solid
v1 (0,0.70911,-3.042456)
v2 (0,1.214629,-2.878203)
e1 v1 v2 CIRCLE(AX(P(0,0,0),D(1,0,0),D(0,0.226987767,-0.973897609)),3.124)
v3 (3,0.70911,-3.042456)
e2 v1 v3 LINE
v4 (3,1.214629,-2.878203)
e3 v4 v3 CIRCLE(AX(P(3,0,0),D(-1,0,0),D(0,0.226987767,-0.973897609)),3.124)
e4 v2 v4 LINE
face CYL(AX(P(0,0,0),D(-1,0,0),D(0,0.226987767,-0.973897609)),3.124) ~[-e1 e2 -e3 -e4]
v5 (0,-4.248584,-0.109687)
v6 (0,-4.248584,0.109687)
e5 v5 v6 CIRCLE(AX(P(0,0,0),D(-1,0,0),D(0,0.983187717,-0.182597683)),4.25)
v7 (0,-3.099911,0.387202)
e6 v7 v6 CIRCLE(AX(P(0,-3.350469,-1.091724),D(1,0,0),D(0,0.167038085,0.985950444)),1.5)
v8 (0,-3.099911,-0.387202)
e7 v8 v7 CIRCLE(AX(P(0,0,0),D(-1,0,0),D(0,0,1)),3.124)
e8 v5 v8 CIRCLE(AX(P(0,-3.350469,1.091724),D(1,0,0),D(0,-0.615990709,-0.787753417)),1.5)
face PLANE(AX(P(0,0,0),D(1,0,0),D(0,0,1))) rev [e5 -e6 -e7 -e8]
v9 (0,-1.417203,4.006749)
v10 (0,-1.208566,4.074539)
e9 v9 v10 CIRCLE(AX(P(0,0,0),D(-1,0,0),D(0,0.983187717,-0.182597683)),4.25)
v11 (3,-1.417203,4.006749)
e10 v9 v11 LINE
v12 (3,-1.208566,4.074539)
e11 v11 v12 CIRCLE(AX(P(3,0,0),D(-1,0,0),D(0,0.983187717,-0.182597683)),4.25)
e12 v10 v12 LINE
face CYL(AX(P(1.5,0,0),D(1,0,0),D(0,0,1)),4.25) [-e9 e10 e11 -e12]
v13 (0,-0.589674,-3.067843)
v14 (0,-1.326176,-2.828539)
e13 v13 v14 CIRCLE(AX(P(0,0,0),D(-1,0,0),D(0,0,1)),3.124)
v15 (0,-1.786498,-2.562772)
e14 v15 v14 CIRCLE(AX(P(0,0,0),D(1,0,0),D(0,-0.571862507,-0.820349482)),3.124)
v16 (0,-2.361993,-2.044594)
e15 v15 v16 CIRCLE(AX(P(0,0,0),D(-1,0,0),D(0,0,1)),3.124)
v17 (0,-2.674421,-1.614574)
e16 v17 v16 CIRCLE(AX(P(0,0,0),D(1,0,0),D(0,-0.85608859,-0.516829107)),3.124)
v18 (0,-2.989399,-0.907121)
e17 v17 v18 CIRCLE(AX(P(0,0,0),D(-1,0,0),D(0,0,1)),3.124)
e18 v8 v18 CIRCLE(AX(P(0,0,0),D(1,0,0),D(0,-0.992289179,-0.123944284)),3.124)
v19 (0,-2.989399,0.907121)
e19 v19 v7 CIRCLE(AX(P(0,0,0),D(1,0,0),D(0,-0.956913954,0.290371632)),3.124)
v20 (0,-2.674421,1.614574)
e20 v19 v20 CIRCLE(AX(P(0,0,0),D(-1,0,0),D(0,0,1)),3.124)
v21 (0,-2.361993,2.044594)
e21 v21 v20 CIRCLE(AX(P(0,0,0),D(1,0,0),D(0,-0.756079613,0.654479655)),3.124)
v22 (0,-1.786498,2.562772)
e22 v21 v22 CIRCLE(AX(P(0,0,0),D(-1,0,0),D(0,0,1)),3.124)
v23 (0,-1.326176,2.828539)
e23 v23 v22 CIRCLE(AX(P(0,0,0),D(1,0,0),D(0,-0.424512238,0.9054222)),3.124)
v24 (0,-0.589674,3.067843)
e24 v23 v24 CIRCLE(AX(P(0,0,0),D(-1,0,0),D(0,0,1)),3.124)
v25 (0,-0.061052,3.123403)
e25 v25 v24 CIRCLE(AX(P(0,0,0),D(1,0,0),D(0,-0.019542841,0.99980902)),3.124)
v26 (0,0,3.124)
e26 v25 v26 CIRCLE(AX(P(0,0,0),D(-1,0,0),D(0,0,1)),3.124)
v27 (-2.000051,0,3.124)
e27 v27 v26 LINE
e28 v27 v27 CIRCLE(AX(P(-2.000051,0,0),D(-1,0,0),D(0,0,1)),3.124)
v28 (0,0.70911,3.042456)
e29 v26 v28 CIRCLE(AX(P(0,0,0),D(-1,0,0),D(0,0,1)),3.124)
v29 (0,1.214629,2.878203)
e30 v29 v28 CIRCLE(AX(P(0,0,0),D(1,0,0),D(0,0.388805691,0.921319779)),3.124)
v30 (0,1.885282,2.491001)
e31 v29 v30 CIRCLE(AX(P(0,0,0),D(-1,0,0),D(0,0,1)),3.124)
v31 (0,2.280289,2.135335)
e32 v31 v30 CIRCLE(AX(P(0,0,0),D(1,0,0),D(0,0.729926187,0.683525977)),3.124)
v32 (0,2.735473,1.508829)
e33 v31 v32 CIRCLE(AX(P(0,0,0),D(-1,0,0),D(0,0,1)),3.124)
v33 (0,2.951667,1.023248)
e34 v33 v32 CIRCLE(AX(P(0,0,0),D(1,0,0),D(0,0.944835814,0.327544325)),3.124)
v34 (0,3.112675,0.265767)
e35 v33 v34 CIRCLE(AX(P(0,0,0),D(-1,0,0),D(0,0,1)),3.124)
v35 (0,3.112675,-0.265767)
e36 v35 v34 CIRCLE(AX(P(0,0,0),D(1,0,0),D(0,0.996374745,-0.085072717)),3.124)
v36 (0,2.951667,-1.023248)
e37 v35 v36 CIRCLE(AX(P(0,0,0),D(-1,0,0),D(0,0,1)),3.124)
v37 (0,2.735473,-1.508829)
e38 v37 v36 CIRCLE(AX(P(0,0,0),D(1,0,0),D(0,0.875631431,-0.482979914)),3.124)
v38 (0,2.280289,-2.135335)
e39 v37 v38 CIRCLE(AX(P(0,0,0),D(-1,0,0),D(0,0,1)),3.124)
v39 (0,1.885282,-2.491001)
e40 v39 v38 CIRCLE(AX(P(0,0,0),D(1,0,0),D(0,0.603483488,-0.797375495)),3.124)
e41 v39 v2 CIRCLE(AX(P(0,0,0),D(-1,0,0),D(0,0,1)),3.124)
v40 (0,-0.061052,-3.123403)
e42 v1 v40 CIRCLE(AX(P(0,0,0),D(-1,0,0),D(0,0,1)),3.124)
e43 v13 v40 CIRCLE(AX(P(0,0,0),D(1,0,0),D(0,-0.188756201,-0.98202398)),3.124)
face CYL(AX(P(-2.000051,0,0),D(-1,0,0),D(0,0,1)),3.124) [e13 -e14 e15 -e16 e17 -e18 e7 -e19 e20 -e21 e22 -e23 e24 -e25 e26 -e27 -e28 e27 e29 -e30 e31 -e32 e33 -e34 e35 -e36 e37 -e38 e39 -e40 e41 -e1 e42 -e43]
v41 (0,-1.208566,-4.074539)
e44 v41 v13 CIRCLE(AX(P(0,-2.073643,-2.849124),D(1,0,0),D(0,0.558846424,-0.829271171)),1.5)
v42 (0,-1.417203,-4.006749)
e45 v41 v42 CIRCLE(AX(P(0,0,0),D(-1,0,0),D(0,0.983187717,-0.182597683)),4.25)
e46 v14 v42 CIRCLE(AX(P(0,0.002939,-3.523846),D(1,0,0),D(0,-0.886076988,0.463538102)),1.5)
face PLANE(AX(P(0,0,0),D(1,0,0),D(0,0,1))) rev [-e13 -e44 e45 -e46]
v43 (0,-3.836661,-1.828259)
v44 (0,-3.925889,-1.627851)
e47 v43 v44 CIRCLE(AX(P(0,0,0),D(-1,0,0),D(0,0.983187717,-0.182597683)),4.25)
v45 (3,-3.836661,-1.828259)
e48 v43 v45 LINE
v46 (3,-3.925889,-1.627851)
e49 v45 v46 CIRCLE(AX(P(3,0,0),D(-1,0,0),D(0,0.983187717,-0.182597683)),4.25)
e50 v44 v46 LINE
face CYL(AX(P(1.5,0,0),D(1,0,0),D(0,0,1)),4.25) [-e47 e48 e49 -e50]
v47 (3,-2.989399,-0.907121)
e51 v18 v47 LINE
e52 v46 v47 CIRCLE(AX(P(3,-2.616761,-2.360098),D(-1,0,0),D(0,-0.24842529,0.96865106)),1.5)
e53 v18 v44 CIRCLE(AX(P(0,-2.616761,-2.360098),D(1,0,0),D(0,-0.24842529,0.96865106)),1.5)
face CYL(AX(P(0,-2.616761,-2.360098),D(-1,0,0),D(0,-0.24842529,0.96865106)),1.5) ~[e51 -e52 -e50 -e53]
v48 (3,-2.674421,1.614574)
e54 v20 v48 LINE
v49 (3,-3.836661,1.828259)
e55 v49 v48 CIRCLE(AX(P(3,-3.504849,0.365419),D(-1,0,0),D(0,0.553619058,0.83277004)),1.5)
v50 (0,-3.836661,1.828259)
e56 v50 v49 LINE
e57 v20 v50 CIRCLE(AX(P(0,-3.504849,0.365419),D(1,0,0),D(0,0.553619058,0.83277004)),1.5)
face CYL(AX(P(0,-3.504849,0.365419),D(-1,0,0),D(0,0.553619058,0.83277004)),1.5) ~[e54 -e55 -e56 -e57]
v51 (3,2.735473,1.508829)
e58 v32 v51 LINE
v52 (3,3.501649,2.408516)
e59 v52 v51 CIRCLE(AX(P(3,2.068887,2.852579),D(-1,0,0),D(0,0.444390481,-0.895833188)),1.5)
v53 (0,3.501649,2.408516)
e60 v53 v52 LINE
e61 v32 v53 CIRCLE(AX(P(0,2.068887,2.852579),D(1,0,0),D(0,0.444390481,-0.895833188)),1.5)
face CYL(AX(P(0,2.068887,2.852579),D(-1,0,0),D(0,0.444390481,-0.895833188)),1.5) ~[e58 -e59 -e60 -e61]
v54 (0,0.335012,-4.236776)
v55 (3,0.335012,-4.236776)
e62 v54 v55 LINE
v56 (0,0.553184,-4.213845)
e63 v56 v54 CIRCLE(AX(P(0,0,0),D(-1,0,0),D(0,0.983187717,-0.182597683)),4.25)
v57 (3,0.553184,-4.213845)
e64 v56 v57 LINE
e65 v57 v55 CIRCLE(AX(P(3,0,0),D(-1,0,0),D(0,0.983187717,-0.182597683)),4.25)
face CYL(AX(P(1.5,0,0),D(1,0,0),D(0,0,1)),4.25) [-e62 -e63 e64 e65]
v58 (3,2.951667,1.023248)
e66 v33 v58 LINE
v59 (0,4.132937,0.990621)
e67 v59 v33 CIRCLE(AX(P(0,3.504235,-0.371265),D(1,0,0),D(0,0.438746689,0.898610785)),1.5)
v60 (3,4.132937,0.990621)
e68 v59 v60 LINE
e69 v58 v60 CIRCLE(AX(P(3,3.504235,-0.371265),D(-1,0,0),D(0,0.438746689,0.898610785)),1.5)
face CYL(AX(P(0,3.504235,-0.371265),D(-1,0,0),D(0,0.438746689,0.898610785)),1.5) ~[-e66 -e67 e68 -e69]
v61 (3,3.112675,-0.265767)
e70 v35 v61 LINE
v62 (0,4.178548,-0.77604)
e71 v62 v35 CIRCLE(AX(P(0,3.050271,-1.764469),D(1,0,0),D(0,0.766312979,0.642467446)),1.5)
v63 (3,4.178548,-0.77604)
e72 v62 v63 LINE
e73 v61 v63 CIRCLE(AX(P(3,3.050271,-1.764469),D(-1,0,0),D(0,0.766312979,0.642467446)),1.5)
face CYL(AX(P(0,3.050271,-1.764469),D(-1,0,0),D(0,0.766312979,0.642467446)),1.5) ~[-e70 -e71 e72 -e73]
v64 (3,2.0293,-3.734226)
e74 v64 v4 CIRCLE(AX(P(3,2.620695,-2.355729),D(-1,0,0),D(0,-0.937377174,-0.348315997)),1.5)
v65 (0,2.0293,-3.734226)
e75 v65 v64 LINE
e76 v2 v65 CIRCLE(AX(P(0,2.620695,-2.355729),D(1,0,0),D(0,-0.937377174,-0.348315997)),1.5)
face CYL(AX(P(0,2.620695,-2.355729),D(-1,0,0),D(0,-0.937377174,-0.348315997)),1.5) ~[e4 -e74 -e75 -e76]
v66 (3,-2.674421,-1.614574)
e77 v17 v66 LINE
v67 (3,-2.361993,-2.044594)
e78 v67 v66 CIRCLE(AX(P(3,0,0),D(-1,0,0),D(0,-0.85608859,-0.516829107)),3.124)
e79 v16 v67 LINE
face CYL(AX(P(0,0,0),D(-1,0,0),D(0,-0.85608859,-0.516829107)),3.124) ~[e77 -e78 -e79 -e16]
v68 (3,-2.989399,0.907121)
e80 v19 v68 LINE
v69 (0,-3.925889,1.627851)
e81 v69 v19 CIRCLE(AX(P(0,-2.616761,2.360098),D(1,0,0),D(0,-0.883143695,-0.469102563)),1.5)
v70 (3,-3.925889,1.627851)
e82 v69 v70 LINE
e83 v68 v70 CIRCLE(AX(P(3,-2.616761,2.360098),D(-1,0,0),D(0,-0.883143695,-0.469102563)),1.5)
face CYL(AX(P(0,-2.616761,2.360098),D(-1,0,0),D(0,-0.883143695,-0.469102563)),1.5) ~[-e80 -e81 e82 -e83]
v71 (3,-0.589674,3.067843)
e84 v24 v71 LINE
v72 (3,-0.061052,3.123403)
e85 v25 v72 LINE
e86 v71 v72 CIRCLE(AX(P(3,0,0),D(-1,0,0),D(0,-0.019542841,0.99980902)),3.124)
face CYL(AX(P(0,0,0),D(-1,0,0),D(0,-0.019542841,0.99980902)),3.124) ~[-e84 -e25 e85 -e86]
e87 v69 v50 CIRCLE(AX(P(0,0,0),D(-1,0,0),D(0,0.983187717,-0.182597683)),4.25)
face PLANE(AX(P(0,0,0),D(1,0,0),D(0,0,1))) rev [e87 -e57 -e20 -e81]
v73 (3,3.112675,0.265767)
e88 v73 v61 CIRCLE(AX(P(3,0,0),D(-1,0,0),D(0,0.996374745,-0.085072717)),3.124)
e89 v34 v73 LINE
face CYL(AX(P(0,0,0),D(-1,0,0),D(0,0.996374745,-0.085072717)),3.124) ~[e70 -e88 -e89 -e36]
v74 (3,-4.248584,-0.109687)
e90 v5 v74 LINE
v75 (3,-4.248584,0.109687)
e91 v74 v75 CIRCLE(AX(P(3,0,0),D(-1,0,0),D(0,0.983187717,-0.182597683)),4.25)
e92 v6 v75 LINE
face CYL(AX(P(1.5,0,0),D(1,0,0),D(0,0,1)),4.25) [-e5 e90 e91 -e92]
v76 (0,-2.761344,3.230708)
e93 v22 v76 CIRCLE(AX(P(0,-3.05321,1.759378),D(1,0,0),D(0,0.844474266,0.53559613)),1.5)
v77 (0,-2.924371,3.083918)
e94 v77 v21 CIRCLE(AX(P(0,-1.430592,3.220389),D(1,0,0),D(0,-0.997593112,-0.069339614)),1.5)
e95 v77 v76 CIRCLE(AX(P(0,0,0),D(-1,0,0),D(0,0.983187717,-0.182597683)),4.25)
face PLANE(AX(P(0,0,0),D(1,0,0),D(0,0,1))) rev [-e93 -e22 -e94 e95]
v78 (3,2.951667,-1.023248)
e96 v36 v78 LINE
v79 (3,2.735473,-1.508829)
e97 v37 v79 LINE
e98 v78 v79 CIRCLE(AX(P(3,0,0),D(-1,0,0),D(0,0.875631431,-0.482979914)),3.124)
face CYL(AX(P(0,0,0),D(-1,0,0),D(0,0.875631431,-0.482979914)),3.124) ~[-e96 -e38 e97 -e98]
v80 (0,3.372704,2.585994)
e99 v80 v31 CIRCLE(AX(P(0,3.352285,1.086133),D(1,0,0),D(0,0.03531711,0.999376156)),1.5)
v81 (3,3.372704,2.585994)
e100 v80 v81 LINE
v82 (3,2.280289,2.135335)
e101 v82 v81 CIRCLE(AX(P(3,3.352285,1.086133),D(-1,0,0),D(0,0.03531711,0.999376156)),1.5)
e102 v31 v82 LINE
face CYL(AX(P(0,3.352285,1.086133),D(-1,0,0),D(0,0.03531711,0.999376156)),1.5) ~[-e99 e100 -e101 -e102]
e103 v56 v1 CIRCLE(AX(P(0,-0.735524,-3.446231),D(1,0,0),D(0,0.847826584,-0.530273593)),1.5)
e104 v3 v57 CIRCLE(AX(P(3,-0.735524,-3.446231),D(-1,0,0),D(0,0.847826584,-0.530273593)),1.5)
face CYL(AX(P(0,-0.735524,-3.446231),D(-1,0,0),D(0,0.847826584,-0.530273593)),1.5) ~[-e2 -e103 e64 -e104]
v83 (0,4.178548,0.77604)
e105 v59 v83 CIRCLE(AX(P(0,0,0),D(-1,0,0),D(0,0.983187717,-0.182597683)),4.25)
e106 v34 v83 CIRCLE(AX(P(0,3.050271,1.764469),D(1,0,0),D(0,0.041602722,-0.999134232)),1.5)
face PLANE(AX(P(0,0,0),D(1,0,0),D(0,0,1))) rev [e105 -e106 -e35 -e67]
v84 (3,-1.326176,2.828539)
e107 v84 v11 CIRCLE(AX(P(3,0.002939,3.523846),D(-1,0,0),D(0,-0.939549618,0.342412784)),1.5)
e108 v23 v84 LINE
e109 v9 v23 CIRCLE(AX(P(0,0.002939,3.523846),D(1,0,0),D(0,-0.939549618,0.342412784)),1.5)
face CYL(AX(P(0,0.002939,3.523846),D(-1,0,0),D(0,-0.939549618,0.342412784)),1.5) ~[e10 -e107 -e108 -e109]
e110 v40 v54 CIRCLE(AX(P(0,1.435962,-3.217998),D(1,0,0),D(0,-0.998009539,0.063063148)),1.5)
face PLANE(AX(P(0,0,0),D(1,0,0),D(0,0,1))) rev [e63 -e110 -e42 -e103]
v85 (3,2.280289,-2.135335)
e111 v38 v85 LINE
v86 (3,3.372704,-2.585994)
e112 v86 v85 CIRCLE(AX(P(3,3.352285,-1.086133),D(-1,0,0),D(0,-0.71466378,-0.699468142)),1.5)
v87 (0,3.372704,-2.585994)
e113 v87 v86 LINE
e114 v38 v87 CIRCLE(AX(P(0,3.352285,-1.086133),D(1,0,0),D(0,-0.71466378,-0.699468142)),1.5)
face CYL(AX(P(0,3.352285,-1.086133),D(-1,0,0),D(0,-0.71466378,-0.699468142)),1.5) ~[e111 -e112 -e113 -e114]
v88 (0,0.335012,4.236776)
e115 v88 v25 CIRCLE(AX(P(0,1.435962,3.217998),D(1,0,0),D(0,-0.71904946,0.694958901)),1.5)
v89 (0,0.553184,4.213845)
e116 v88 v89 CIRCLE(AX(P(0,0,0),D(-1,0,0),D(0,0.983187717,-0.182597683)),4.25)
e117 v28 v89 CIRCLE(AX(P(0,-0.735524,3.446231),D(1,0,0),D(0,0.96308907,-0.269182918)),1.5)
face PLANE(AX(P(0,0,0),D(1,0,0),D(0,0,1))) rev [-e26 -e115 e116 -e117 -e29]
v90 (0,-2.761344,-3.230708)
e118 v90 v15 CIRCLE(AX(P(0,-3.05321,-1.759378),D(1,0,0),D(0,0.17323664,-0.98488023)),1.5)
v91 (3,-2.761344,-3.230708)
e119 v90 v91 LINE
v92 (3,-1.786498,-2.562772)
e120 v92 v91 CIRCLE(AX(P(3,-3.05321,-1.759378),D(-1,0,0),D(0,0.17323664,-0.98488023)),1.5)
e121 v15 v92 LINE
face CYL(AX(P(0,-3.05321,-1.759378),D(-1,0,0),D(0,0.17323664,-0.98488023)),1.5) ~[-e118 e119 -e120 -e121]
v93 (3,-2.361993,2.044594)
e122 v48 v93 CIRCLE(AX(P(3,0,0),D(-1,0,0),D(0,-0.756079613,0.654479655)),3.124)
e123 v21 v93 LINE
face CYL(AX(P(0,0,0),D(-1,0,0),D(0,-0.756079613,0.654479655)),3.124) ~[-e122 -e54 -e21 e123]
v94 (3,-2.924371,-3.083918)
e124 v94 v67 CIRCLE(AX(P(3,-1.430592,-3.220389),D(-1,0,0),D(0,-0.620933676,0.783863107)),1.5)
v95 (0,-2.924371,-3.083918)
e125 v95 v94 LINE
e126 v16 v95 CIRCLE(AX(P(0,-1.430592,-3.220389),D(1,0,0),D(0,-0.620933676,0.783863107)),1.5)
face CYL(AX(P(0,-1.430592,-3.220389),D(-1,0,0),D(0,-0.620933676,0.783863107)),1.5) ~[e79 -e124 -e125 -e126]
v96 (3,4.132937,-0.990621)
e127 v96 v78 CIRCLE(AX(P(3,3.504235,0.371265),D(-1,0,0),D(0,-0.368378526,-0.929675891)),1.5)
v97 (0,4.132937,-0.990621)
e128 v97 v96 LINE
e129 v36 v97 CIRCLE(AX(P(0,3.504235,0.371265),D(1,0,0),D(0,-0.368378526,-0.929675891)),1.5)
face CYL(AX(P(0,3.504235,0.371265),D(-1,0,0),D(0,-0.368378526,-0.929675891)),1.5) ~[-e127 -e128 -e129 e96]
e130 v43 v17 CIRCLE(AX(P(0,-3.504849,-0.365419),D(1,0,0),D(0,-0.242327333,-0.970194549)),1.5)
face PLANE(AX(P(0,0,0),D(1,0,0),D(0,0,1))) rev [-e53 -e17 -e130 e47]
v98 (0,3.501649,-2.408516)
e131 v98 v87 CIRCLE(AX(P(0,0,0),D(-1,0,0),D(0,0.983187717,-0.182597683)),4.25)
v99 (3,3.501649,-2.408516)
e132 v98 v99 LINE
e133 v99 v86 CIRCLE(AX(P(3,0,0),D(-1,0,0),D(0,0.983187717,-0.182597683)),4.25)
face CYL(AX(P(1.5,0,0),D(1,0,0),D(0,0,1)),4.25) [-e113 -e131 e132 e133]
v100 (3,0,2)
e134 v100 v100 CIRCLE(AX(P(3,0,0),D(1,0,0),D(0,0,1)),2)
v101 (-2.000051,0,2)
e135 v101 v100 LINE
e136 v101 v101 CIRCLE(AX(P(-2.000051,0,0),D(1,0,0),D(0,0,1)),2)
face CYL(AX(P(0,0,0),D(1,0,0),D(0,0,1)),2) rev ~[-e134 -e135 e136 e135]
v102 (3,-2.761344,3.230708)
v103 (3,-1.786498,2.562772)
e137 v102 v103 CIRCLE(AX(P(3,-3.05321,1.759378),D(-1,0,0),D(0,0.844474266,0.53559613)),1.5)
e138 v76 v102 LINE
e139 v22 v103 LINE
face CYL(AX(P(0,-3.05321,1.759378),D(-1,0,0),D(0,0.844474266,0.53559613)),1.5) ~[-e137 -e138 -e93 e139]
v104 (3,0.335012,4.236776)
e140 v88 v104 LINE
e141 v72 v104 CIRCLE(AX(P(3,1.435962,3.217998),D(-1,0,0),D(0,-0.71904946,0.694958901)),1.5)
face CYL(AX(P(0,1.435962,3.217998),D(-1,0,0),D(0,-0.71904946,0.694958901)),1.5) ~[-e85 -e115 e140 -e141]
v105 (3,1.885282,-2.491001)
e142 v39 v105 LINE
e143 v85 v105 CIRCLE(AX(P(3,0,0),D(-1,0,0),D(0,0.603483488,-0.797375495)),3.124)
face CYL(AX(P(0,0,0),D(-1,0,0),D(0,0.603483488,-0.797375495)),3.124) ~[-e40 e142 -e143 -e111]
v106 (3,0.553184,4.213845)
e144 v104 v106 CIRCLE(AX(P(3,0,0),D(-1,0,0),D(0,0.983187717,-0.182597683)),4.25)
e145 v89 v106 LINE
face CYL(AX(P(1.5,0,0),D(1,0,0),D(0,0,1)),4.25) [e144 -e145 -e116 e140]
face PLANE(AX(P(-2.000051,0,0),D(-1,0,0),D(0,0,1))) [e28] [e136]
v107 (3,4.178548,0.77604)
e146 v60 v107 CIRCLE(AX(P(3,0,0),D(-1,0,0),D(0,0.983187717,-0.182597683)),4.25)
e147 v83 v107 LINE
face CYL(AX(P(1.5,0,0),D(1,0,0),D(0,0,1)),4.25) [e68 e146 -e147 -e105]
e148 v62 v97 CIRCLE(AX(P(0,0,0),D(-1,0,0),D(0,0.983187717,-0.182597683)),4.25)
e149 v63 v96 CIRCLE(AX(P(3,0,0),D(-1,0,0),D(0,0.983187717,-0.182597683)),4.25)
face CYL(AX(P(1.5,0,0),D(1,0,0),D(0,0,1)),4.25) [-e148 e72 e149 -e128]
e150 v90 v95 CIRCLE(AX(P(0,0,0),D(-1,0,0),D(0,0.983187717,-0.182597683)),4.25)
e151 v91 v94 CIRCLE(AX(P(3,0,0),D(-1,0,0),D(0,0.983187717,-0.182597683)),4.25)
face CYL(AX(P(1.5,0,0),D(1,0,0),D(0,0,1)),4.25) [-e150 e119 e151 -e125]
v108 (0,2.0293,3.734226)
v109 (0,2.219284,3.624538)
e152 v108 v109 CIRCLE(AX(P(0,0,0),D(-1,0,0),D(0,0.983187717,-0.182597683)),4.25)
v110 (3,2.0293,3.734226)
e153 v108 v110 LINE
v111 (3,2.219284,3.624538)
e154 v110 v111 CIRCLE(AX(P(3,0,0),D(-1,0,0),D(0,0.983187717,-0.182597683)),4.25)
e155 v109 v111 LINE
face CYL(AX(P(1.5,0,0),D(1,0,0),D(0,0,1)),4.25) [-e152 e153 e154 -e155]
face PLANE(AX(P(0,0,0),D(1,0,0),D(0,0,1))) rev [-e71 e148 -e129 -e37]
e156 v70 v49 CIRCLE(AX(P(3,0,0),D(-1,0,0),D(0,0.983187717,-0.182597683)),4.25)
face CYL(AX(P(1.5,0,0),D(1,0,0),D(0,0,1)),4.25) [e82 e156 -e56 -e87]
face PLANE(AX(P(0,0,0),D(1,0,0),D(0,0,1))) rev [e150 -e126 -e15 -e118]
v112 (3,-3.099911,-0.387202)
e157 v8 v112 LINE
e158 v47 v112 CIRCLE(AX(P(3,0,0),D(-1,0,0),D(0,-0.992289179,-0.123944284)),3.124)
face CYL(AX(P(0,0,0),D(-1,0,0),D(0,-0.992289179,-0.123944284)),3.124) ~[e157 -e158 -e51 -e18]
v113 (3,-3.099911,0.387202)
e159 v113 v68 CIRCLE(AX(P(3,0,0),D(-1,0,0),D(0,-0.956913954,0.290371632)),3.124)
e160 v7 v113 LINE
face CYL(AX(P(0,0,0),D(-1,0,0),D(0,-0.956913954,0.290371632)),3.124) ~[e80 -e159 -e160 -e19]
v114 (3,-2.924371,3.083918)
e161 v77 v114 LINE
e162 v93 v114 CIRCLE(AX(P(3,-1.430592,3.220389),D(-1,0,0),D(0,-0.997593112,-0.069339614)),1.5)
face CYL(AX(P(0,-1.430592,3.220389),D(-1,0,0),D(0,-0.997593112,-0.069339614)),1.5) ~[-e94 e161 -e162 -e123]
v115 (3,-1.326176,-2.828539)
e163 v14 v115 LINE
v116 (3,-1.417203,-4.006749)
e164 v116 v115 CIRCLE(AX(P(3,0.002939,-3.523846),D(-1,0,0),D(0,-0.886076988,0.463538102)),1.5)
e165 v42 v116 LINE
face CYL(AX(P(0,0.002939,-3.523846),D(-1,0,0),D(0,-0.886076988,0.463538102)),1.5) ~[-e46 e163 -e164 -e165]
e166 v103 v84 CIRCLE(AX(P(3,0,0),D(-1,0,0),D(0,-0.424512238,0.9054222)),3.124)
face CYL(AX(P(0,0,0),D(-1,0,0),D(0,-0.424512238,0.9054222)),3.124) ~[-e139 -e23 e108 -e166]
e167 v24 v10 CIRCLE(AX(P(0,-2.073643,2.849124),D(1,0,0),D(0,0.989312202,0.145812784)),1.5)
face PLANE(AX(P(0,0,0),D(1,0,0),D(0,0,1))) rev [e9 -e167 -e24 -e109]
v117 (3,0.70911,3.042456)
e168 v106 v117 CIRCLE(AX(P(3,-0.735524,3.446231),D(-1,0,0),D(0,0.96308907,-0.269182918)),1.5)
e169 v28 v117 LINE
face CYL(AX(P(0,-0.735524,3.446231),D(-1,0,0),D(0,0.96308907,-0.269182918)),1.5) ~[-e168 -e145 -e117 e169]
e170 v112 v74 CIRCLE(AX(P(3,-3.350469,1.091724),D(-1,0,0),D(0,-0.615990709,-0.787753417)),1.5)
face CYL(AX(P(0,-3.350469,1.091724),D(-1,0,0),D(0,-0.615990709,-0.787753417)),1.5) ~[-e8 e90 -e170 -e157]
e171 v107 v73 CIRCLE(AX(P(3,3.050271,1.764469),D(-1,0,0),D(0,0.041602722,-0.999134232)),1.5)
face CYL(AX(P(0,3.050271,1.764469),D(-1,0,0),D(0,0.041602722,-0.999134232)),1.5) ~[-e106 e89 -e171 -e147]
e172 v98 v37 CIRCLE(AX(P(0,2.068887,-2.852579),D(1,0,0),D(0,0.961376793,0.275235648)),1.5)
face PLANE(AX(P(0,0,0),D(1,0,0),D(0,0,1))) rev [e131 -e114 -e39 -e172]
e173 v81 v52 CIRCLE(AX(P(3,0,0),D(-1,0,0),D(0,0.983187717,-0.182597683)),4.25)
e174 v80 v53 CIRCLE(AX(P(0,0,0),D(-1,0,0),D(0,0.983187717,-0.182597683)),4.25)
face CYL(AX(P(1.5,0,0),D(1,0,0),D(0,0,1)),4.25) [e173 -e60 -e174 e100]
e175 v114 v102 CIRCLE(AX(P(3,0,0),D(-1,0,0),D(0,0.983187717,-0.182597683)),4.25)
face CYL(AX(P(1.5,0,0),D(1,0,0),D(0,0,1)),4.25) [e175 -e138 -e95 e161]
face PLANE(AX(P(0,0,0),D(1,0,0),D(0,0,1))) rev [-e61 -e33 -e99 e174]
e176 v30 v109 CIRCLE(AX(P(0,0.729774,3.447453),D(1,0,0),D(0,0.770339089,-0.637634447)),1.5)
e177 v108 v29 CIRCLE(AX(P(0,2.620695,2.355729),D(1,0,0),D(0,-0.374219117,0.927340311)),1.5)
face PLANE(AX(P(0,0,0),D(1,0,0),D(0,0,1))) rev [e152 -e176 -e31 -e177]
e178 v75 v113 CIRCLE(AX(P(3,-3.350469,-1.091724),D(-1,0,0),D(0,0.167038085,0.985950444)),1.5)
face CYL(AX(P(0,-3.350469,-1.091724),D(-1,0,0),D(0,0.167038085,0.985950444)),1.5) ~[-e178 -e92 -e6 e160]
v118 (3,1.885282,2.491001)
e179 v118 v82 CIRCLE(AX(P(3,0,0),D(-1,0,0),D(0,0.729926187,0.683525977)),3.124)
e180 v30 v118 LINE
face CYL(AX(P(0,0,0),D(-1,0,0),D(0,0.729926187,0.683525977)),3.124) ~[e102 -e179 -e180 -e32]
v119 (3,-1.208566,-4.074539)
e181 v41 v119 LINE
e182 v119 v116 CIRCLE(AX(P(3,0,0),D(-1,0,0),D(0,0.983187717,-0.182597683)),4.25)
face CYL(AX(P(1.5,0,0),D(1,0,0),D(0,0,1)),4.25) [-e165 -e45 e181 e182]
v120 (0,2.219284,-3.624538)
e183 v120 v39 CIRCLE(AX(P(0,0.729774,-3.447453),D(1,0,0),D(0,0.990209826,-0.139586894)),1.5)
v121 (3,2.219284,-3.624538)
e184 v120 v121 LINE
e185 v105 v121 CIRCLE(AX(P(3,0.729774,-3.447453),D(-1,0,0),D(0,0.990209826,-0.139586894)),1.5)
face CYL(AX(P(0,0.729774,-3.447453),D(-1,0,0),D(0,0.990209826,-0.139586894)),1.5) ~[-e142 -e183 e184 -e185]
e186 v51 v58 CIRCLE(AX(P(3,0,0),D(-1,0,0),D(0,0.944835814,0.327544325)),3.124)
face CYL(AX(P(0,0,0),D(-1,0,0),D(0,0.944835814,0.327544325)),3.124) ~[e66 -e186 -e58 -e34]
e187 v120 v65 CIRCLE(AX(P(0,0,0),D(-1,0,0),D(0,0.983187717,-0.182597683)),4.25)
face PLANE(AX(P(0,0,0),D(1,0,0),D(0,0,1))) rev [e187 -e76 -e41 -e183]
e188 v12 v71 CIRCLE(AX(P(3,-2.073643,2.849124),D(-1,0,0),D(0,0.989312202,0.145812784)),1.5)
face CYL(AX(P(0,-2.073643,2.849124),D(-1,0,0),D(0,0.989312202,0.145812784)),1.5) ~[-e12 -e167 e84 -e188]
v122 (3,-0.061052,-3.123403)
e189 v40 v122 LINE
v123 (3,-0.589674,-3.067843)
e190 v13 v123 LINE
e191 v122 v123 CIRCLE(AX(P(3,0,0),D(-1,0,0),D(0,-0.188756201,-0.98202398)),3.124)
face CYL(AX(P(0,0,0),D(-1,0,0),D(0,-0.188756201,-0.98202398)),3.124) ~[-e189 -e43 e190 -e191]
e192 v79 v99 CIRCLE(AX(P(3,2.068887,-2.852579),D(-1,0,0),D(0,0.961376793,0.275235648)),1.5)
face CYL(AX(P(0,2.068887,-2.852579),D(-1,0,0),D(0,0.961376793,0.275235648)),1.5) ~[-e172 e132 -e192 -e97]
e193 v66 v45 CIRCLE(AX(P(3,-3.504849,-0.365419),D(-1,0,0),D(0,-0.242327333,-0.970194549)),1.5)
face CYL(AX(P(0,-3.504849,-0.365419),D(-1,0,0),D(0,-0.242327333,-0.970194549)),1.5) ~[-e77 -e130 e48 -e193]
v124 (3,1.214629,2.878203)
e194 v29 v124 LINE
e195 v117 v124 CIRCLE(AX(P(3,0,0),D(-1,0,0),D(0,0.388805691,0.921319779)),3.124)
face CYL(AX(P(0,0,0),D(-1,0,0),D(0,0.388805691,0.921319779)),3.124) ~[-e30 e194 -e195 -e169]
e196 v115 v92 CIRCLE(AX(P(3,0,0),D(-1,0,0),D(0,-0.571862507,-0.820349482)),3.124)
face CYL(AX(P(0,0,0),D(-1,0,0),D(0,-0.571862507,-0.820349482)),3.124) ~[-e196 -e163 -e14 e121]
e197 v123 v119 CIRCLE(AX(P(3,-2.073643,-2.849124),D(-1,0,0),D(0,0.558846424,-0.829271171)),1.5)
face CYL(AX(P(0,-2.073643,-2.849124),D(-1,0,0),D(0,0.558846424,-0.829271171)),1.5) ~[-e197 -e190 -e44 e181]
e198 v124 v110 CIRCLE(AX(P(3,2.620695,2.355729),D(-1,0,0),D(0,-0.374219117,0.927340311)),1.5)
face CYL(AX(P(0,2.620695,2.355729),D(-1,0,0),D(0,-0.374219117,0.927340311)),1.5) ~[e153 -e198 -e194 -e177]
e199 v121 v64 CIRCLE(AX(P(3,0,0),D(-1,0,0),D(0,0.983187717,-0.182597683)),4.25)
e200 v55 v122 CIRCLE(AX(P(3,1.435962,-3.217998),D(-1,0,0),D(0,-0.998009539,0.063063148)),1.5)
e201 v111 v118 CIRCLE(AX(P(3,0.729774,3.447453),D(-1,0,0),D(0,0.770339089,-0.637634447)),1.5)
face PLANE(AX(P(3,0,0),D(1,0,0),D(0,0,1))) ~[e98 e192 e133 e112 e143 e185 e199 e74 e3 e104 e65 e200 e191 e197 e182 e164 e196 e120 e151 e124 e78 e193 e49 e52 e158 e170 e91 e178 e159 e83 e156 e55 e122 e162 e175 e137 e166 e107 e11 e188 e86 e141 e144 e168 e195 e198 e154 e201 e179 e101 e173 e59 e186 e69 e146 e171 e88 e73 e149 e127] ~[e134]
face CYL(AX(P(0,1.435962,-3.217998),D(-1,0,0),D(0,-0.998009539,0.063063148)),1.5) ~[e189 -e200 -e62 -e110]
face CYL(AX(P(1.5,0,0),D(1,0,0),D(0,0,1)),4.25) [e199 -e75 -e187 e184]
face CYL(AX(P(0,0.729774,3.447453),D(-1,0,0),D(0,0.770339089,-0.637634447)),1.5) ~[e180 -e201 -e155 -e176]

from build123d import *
from build123d.topology import SkipClean

# Parameters (mm, degrees)
BASPROSKE_W      = 3
BASPROSKE_H      = 4.25
TOOTHCUT_DEPTH   = 7.717514421
TEETHCUTS_COUNT  = 15
TEETHCUTS_ANGLE  = 336
HUBNEARONE_START = 2.0000508
HUBNEAONESKE_R   = 3.124
HUBNEARONE_DEPTH = 2.0000508
BORSKE_R         = 2
BORE_DEPTH       = 5.0000508


with BuildPart() as part:
    # BasProSke → Base-Revolve (revolve)
    with BuildSketch(Plane(origin=(0, 0, 0), x_dir=(1, 0, 0), z_dir=(0, 1, 0)), mode=Mode.PRIVATE) as base_revolve_sk:
        with Locations((1.5, 2.125)):
            Rectangle(BASPROSKE_W, BASPROSKE_H)
    revolve(base_revolve_sk.sketch.rotate(Axis((-10, 0, 0), (1, 0, 0)), 180), axis=Axis((-10, 0, 0), (1, 0, 0)))

    # TooCutSke → ToothCut (cut, through all)
    with BuildSketch(Plane(origin=(0, 0, 0), x_dir=(0, 0, -1), z_dir=(1, 0, 0))):
        with BuildLine():
            ThreePointArc((0.265767165, 3.112674704), (0, 3.124), (-0.265767165, 3.112674704))
            ThreePointArc((-0.265767165, 3.112674704), (-0.418628877, 3.712626775), (-0.800767345, 4.19974009))
            ThreePointArc((-0.800767345, 4.19974009), (0, 4.2754), (0.800767345, 4.19974009))
            ThreePointArc((0.800767345, 4.19974009), (0.418628877, 3.712626775), (0.265767165, 3.112674704))
        make_face()
    toothcut = extrude(amount=TOOTHCUT_DEPTH, mode=Mode.SUBTRACT)

    # TeethCuts: ToothCut ×15 about axis
    teethcuts_axis = Axis((-10, 0, 0), (1, 0, 0))
    for i in range(1, TEETHCUTS_COUNT):
        add(toothcut.rotate(teethcuts_axis, i * TEETHCUTS_ANGLE / (TEETHCUTS_COUNT - 1)), mode=Mode.SUBTRACT)

    # HubNeaOneSke → HubNearOne (add)
    with SkipClean():  # the faces are left unmerged after this step: merging them gives an invalid solid
        with BuildSketch(Plane.ZY.offset(HUBNEARONE_START)):
            Circle(HUBNEAONESKE_R)
        extrude(amount=-HUBNEARONE_DEPTH)

    # BorSke → Bore (cut, symmetric)
    with SkipClean():  # the faces are left unmerged after this step: merging them gives an invalid solid
        with BuildSketch(Plane(origin=(0, 0, 0), x_dir=(0, 0, -1), z_dir=(1, 0, 0))):
            with Locations(Location((0, 0, 0), (0, 0, 180))):
                Circle(BORSKE_R)
        extrude(amount=BORE_DEPTH, both=True, mode=Mode.SUBTRACT)


solid = part.part
